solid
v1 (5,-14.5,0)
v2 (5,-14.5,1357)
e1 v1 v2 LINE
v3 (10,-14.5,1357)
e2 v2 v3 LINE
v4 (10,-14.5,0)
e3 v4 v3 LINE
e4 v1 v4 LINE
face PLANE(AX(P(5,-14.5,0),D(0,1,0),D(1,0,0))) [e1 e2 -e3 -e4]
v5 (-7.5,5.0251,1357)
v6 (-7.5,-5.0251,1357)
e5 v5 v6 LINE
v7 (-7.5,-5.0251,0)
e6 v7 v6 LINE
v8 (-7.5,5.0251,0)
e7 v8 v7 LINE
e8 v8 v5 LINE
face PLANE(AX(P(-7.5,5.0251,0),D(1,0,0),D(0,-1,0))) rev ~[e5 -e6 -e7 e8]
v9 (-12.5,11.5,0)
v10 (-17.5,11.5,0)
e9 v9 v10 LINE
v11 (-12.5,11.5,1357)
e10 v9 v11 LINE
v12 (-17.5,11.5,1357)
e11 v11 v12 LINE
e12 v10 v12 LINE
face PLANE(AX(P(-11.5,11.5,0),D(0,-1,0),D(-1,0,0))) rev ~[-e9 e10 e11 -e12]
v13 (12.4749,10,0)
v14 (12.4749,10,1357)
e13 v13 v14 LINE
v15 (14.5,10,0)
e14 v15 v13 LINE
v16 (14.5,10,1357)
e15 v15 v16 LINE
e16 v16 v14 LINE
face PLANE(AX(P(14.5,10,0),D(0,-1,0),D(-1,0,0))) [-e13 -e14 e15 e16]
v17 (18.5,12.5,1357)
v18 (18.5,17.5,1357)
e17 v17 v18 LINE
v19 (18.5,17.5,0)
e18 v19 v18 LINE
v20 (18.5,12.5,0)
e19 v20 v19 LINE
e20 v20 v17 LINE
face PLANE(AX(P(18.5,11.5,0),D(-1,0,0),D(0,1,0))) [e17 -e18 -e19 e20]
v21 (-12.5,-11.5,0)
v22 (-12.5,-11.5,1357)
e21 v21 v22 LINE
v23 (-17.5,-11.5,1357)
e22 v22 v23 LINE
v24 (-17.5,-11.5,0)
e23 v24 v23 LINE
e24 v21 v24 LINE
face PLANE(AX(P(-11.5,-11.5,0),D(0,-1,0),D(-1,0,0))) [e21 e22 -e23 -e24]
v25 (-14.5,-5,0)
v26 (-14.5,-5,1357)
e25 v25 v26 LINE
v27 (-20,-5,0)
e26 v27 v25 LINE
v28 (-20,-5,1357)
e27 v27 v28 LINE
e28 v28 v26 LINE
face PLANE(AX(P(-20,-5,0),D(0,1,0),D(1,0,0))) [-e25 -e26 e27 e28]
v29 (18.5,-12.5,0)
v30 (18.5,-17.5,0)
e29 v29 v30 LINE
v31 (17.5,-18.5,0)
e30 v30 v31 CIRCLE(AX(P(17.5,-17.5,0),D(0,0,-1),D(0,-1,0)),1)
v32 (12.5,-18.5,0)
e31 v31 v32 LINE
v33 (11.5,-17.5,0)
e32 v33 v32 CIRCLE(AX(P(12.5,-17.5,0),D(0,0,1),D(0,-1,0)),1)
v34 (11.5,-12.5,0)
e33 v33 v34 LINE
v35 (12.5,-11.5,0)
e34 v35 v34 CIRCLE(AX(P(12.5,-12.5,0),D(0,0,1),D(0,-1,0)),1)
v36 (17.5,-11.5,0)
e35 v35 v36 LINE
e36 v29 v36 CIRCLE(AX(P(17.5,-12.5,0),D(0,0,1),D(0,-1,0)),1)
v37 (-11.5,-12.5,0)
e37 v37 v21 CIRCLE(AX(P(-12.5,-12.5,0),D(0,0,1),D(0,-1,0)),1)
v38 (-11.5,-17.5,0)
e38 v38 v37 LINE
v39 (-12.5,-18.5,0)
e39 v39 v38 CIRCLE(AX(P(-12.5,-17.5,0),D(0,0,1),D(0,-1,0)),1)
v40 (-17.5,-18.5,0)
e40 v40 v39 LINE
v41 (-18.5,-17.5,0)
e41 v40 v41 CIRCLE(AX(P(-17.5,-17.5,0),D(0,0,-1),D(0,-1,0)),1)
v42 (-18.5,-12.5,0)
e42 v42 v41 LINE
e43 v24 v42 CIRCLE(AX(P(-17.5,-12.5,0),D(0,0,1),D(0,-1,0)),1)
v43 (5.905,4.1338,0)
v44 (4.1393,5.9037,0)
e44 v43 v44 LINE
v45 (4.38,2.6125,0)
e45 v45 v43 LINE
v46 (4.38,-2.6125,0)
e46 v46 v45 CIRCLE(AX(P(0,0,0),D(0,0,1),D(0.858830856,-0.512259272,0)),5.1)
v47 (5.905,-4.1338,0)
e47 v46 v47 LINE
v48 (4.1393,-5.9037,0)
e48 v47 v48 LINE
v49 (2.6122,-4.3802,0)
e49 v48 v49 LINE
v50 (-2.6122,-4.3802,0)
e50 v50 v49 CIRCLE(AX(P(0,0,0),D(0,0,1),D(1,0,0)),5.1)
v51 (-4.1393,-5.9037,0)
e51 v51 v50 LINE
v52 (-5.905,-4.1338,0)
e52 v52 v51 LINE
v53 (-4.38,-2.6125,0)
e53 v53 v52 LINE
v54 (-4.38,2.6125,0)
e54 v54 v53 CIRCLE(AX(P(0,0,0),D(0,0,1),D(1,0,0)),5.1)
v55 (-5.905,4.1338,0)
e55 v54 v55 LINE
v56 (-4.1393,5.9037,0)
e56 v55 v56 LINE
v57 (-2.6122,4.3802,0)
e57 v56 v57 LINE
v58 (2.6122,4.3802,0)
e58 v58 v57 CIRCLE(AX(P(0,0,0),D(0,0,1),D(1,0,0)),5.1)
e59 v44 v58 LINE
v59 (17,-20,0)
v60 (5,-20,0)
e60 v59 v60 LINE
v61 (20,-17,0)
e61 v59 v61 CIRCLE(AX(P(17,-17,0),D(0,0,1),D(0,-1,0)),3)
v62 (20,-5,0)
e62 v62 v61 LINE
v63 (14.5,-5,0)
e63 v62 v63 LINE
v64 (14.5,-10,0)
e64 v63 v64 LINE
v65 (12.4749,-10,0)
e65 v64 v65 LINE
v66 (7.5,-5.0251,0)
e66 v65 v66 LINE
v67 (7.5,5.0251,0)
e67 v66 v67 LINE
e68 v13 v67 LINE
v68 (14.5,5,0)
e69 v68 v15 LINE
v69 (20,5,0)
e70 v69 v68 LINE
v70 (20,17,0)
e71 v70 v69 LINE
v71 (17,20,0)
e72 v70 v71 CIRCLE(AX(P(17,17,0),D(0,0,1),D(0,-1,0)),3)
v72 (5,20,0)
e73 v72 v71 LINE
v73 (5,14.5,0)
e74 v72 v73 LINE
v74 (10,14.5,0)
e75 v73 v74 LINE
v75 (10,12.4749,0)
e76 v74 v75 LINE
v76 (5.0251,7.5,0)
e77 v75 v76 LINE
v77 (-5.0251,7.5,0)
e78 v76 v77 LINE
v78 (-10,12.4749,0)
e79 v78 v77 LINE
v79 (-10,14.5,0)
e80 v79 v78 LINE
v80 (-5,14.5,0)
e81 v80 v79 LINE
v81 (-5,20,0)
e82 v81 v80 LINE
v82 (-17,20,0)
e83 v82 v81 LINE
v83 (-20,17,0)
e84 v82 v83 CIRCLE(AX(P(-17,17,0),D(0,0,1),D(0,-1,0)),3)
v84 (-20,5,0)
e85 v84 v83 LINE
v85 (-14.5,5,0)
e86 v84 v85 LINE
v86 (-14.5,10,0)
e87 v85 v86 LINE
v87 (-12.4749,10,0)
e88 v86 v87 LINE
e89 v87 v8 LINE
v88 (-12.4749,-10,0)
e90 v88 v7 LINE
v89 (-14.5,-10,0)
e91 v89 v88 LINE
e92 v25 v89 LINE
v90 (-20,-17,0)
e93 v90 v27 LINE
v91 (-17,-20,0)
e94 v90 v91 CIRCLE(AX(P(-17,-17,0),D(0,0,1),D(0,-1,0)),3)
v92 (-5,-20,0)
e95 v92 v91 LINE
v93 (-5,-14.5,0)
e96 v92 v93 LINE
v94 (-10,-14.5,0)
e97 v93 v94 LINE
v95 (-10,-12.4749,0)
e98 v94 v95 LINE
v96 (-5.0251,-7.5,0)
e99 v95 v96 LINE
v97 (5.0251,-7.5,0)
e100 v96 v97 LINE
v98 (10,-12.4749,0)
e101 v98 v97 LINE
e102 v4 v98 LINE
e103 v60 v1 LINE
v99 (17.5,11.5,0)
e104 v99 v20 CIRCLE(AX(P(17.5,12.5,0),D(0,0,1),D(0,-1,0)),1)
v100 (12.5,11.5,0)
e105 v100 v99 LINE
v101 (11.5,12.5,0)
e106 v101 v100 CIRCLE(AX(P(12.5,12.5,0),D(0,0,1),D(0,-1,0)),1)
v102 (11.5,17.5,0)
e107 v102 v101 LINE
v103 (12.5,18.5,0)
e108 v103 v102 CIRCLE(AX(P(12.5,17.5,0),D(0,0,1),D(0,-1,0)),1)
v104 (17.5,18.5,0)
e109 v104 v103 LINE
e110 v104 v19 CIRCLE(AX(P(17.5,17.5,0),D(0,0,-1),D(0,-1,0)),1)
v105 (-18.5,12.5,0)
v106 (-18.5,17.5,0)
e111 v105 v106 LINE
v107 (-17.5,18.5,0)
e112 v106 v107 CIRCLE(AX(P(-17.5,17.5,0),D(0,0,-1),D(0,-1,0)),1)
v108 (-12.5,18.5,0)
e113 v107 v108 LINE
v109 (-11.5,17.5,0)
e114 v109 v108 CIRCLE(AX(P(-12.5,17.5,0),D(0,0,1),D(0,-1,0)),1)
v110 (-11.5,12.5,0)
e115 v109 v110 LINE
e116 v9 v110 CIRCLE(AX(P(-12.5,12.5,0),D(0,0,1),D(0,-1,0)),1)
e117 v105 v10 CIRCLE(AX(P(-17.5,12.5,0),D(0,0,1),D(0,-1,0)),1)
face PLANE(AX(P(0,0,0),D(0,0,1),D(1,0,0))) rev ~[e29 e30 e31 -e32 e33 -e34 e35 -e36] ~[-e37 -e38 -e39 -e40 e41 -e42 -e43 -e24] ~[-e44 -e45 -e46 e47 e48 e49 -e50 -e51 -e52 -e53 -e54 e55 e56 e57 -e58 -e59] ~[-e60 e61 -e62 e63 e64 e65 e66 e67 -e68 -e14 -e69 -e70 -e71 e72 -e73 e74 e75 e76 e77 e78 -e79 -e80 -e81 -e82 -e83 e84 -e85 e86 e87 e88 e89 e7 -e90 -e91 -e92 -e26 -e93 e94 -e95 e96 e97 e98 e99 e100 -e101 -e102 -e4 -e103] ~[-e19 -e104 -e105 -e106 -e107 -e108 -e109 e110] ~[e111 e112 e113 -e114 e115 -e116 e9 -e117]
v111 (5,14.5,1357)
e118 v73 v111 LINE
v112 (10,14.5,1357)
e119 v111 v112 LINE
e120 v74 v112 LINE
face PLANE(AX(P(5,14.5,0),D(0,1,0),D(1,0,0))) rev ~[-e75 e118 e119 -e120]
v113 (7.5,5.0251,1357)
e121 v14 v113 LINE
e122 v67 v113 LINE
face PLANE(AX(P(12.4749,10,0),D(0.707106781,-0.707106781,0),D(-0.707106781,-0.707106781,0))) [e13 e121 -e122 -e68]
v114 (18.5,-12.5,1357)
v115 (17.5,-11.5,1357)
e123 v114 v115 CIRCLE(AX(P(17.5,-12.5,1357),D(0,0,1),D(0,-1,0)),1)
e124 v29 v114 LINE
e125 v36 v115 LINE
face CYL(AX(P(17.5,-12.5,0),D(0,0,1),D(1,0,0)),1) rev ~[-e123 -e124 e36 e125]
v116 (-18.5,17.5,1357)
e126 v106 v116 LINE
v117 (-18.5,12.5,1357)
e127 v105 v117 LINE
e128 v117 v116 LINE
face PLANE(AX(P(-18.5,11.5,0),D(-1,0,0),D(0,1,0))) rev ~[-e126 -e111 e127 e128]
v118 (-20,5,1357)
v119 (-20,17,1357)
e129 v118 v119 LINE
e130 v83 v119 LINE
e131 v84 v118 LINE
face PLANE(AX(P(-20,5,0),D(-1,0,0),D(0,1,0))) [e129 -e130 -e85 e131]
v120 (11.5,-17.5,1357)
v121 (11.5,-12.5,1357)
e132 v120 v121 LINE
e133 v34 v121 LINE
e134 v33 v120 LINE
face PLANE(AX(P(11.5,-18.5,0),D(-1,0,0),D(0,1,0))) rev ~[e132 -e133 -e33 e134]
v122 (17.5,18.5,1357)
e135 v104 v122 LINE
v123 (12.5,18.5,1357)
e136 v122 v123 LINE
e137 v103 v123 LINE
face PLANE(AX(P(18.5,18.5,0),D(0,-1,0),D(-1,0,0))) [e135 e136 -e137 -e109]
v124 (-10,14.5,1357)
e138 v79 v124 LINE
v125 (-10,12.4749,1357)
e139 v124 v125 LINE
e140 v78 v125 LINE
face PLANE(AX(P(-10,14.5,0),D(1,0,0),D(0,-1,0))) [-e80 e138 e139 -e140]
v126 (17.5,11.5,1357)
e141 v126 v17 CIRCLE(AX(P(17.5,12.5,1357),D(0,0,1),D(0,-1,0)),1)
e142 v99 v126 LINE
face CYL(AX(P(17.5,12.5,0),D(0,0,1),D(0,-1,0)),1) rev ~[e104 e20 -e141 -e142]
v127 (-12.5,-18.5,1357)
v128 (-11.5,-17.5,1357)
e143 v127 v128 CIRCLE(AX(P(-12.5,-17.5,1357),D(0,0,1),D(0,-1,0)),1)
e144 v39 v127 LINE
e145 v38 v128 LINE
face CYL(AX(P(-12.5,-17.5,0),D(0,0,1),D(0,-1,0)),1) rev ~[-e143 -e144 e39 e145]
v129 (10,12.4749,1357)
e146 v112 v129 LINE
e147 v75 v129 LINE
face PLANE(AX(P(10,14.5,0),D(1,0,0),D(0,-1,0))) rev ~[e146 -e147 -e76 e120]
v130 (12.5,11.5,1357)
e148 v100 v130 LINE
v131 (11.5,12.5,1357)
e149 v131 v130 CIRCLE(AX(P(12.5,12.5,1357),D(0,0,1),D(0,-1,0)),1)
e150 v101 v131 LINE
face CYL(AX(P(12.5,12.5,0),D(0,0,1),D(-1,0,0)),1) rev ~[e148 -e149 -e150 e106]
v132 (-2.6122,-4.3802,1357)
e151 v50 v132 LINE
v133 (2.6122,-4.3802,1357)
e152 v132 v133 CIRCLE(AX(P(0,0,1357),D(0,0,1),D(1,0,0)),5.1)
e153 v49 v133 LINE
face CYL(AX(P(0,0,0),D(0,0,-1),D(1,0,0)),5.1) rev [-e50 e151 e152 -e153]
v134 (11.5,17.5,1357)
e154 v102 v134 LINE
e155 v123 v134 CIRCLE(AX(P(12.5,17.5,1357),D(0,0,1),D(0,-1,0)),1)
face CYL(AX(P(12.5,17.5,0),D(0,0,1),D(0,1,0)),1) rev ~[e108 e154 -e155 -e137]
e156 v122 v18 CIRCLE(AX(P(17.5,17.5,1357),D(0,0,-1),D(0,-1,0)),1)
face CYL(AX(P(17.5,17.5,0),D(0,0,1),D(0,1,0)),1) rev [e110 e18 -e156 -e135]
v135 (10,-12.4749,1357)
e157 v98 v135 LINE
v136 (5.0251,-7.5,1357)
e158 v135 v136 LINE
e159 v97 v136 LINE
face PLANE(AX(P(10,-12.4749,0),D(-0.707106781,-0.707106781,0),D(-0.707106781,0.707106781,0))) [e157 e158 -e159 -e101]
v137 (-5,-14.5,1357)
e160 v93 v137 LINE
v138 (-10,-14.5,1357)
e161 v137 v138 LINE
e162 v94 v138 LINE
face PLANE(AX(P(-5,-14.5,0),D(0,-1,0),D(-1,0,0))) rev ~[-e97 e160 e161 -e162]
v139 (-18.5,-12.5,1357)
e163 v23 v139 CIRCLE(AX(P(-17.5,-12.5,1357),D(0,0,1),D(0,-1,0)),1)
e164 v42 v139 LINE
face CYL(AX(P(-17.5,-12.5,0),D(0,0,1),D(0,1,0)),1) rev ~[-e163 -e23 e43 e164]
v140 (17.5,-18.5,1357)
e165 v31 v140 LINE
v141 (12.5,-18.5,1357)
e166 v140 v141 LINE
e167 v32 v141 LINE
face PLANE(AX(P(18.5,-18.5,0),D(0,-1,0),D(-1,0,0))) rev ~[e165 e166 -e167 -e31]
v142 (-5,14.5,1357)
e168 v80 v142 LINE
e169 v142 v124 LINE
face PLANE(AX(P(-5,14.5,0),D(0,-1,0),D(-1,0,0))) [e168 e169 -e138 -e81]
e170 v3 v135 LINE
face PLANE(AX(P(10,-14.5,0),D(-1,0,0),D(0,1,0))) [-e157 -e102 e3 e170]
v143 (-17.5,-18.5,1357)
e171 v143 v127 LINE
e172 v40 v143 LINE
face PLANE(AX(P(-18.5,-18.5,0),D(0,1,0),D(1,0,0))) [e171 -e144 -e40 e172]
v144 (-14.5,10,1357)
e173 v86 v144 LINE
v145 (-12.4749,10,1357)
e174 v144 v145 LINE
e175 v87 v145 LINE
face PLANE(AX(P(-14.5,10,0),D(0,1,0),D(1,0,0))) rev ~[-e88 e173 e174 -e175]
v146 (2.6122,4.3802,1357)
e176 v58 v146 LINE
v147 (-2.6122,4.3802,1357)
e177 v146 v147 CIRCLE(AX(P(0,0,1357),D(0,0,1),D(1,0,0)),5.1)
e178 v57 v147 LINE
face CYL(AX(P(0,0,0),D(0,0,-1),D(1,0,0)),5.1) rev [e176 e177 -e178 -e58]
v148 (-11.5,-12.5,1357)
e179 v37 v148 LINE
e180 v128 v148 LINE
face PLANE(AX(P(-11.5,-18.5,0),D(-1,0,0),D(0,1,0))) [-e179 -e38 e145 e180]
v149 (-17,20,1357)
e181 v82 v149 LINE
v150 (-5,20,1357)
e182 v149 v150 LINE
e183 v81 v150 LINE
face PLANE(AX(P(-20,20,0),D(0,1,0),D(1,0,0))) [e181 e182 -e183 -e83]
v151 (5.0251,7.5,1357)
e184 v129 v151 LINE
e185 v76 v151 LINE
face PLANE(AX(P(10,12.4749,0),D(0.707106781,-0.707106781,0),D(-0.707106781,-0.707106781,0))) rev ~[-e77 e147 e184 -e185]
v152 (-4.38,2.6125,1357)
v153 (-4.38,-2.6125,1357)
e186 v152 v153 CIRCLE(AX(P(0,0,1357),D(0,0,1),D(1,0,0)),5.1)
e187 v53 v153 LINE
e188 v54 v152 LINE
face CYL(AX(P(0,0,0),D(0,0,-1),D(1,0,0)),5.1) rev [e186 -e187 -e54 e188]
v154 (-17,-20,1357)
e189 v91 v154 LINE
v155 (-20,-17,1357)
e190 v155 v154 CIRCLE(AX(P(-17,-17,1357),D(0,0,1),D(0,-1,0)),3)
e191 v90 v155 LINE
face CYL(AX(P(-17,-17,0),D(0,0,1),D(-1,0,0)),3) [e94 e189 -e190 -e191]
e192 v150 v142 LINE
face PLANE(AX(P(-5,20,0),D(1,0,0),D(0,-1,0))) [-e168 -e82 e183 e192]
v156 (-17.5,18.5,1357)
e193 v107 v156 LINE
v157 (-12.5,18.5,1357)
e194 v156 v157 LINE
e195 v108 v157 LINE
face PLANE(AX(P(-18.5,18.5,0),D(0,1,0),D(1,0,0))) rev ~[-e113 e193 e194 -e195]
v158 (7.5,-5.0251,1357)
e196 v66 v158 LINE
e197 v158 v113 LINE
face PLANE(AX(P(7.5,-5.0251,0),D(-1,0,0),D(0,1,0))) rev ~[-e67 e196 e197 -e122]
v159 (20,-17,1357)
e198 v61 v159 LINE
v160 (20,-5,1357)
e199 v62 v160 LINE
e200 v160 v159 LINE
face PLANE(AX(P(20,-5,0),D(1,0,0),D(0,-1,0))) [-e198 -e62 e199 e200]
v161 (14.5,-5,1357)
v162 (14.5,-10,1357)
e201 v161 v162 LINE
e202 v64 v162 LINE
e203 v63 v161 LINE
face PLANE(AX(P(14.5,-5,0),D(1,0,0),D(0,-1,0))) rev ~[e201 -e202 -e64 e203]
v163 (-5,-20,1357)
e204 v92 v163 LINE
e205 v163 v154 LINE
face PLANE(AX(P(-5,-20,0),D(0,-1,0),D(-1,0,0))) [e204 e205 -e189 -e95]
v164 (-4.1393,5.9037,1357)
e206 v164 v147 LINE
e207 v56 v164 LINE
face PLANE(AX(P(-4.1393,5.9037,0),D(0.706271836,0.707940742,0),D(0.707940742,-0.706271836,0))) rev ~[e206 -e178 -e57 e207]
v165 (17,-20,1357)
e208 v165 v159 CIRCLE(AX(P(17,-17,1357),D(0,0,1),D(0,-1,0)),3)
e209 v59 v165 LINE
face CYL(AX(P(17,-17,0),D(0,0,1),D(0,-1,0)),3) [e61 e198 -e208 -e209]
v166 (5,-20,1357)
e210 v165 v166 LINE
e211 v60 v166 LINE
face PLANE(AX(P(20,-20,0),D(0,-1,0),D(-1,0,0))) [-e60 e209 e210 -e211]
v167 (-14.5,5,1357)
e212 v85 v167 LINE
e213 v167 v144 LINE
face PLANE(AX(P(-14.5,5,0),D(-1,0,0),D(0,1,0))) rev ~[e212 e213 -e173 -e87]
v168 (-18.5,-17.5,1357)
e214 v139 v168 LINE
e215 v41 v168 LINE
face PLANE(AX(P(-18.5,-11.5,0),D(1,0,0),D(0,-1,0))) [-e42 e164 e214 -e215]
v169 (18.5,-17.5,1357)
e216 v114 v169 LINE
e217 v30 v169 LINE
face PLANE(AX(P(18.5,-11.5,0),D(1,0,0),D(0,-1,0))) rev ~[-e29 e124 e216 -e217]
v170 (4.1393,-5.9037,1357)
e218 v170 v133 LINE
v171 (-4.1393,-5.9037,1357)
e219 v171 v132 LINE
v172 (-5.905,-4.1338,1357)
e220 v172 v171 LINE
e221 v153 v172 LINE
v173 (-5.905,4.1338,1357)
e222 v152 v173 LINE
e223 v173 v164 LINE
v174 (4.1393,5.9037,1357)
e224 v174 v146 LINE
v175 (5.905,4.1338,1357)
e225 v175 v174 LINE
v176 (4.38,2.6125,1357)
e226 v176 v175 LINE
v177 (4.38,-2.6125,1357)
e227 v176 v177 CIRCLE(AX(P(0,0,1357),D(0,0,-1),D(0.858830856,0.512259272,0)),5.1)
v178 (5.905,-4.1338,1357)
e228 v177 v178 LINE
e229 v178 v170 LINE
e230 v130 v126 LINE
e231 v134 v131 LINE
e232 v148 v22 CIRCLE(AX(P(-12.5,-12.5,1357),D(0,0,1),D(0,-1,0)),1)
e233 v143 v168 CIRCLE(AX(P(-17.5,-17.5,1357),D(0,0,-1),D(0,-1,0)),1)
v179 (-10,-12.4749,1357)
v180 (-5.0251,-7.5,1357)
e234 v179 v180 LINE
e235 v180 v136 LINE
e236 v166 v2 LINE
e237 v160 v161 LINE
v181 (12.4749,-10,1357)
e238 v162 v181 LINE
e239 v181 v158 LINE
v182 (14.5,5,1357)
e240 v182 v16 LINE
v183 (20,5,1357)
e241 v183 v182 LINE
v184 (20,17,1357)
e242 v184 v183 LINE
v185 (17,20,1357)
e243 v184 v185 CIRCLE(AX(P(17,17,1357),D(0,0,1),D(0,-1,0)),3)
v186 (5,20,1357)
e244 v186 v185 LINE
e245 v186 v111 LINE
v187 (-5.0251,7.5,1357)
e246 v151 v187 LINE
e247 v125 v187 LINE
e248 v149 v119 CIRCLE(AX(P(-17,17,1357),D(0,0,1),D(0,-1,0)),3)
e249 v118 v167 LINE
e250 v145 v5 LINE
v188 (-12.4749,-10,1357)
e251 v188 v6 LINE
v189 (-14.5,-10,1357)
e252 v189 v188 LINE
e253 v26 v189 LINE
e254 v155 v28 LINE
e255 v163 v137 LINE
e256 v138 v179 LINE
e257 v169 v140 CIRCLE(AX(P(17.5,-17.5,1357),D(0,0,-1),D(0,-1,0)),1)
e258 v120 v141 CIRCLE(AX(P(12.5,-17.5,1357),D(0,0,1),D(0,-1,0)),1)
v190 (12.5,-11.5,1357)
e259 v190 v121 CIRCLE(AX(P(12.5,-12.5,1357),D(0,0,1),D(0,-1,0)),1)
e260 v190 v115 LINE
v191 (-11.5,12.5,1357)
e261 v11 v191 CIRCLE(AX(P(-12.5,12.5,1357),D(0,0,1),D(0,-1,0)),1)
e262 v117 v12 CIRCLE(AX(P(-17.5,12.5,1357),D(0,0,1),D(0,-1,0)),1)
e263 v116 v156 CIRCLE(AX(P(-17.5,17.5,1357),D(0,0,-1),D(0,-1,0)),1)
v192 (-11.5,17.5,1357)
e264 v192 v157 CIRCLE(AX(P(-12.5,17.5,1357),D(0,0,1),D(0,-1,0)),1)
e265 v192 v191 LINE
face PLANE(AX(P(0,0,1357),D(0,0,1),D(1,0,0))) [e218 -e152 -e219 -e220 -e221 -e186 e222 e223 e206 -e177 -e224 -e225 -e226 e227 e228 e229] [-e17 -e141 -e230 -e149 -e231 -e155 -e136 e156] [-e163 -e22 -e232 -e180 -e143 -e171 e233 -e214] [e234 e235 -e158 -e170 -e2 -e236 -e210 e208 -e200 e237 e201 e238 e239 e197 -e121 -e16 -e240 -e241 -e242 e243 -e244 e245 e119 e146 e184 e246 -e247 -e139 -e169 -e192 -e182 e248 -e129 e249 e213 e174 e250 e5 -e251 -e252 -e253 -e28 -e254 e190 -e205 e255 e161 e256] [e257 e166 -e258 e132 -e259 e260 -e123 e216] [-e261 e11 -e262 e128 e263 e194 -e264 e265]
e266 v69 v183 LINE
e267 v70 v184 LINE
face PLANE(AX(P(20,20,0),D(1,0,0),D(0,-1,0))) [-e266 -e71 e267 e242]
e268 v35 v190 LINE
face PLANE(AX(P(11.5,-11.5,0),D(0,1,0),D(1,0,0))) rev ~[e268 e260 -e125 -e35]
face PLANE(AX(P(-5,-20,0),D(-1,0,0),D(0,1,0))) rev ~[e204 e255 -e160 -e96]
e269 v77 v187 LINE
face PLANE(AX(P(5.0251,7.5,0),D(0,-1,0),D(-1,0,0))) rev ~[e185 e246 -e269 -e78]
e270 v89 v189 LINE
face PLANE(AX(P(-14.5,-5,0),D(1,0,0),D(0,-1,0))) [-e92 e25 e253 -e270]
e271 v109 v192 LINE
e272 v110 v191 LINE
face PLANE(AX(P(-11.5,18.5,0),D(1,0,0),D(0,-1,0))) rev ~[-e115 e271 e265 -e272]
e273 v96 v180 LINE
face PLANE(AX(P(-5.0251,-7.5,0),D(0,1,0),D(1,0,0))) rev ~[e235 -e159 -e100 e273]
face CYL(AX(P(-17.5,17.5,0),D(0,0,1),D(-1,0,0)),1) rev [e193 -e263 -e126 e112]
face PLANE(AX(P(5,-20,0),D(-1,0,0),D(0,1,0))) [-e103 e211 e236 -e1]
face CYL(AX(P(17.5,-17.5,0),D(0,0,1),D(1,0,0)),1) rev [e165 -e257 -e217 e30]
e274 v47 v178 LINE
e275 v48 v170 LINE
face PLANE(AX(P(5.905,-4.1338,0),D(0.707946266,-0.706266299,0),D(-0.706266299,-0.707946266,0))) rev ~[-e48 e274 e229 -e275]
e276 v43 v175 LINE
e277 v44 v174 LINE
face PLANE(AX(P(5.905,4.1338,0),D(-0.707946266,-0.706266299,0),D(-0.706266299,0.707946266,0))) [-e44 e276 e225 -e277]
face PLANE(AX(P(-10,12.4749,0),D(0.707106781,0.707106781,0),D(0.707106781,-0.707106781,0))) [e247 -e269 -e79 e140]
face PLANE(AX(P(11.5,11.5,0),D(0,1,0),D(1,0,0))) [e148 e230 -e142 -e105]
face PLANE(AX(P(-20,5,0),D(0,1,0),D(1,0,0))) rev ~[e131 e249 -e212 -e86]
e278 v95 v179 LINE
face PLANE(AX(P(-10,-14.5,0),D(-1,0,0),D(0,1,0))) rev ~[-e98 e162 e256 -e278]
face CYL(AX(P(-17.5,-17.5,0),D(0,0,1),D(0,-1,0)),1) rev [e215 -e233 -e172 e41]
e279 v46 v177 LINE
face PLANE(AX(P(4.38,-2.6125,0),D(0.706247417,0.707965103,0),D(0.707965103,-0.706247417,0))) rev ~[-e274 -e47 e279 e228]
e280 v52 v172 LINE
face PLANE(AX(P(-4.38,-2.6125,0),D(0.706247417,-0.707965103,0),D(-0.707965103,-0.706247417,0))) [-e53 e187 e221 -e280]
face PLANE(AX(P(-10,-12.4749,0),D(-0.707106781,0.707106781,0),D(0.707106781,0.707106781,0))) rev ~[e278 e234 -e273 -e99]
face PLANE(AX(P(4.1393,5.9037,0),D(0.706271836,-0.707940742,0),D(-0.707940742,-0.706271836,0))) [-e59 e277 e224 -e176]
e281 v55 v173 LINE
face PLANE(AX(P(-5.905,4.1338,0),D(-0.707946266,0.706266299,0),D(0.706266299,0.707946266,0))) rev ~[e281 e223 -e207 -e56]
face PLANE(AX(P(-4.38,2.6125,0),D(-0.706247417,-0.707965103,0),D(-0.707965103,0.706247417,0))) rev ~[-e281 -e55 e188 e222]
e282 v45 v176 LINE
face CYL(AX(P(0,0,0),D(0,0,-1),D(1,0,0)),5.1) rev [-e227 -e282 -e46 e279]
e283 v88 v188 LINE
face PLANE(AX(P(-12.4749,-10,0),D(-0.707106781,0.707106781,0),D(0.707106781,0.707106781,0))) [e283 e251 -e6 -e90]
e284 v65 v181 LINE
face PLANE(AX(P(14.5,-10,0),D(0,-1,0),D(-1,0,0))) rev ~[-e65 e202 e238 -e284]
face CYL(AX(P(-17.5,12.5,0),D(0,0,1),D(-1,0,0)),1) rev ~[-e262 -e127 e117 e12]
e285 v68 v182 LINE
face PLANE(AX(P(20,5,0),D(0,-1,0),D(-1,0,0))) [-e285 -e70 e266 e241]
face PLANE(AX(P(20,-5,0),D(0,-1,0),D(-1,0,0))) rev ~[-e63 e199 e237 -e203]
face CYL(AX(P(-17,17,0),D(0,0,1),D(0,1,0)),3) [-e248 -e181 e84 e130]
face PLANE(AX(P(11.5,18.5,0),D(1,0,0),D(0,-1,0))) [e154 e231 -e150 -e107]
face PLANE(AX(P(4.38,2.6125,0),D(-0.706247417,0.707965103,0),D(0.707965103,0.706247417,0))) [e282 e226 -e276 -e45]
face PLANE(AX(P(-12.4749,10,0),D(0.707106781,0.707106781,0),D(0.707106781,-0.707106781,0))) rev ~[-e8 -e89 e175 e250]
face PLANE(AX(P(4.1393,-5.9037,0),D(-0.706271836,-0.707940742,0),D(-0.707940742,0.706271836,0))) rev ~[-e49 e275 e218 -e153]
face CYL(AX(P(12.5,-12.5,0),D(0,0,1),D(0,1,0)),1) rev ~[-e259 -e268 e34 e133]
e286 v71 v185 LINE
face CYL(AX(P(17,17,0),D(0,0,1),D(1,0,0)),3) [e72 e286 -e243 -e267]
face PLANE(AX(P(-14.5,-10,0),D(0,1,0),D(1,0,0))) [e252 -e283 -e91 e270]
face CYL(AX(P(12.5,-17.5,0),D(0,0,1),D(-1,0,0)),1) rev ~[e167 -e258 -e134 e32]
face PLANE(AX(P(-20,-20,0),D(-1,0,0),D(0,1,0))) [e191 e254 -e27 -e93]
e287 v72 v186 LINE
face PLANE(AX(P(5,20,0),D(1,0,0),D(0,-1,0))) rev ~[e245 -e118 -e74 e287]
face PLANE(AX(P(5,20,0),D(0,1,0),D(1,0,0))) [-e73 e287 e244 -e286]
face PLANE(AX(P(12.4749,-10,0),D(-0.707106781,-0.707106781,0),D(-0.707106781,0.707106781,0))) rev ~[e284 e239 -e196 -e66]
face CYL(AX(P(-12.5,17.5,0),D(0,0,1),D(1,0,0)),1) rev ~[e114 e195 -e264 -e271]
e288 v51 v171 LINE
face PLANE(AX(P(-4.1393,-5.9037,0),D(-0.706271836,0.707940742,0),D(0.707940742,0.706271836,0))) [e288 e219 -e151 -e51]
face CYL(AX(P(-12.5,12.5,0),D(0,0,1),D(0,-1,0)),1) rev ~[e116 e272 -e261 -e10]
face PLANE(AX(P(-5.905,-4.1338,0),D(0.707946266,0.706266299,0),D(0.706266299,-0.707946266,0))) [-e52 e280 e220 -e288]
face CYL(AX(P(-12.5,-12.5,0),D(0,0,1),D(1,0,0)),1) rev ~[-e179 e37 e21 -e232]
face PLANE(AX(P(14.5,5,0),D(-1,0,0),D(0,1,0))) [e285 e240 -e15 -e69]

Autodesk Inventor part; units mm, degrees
ref_plane "YZ Plane" through (0, 0, 0) normal (1, 0, 0) x (0, 1, 0)
ref_plane "XZ Plane" through (0, 0, 0) normal (0, 1, 0) x (-1, 0, 0)
ref_plane "XY Plane" through (0, 0, 0) normal (0, 0, 1) x (1, 0, 0)
sketch "T-Slot 4040 Base" plane through (0, 0, 0) normal (0, 0, 1) x (1, 0, 0)
  line L0 (-28, 0) -> (28, 0) construction
  line L1 (0, -28) -> (0, 28) construction
  circle A0 centre (0, 0) radius 5.1
  line L2 (-7.5, -7.5) -> (7.5, -7.5)
  line L3 (7.5, -7.5) -> (7.5, 7.5)
  line L4 (7.5, 7.5) -> (-7.5, 7.5)
  line L5 (-7.5, 7.5) -> (-7.5, -7.5)
  line L6 (-7.5, -7.5) -> (7.5, 7.5) construction
  line L7 (7.5, -7.5) -> (-7.5, 7.5) construction
  line L8 (-20, 20) -> (20, 20)
  line L9 (20, 20) -> (20, -20)
  line L10 (20, -20) -> (-20, -20)
  line L11 (-20, -20) -> (-20, 20)
  line L12 (-20, 20) -> (20, -20) construction
  line L13 (20, 20) -> (-20, -20) construction
  line L14 (20, 5) -> (14.5, 5)
  line L15 (14.5, 5) -> (14.5, 10)
  line L16 (14.5, 10) -> (12.4749, 10)
  line L17 (12.4749, 10) -> (7.5, 5.0251)
  line L18 (5, 20) -> (5, 14.5)
  line L19 (5, 14.5) -> (10, 14.5)
  line L20 (10, 14.5) -> (10, 12.4749)
  line L21 (10, 12.4749) -> (5.0251, 7.5)
  line L22 (18.5, 18.5) -> (11.5, 18.5)
  line L23 (11.5, 18.5) -> (11.5, 11.5)
  line L24 (11.5, 11.5) -> (18.5, 11.5)
  line L25 (18.5, 11.5) -> (18.5, 18.5)
  line L26 (18.5, 18.5) -> (11.5, 11.5) construction
  line L27 (11.5, 18.5) -> (18.5, 11.5) construction
  line L28 (3.0732, 1.3088) -> (4.38, 2.6125) construction
  line L29 (5.905, 4.1338) -> (4.1393, 5.9037)
  line L30 (4.1393, 5.9037) -> (2.6122, 4.3802)
  line L31 (1.3075, 3.0787) -> (3.0732, 1.3088) construction
  line L32 (3.0732, 1.3088) -> (4.1393, 5.9037) construction
  line L33 (5.905, 4.1338) -> (1.3075, 3.0787) construction
  line L34 (4.38, 2.6125) -> (5.905, 4.1338)
  line L35 (2.6122, 4.3802) -> (1.3075, 3.0787) construction
  line L36 (-20, 5) -> (-14.5, 5)
  line L37 (-14.5, 5) -> (-14.5, 10)
  line L38 (-14.5, 10) -> (-12.4749, 10)
  line L39 (-12.4749, 10) -> (-7.5, 5.0251)
  line L40 (-5, 20) -> (-5, 14.5)
  line L41 (-5, 14.5) -> (-10, 14.5)
  line L42 (-10, 14.5) -> (-10, 12.4749)
  line L43 (-10, 12.4749) -> (-5.0251, 7.5)
  line L44 (-18.5, 18.5) -> (-11.5, 18.5)
  line L45 (-11.5, 18.5) -> (-11.5, 11.5)
  line L46 (-11.5, 11.5) -> (-18.5, 11.5)
  line L47 (-18.5, 11.5) -> (-18.5, 18.5)
  line L48 (-5.905, 4.1338) -> (-4.1393, 5.9037)
  line L49 (-4.1393, 5.9037) -> (-2.6122, 4.3802)
  line L50 (-4.38, 2.6125) -> (-5.905, 4.1338)
  line L51 (7.5, -7.5) -> (-7.5, -7.5)
  line L52 (20, -5) -> (14.5, -5)
  line L53 (14.5, -5) -> (14.5, -10)
  line L54 (14.5, -10) -> (12.4749, -10)
  line L55 (12.4749, -10) -> (7.5, -5.0251)
  line L56 (5, -20) -> (5, -14.5)
  line L57 (5, -14.5) -> (10, -14.5)
  line L58 (10, -14.5) -> (10, -12.4749)
  line L59 (10, -12.4749) -> (5.0251, -7.5)
  line L60 (18.5, -18.5) -> (11.5, -18.5)
  line L61 (11.5, -18.5) -> (11.5, -11.5)
  line L62 (11.5, -11.5) -> (18.5, -11.5)
  line L63 (18.5, -11.5) -> (18.5, -18.5)
  line L64 (18.5, -18.5) -> (11.5, -11.5) construction
  line L65 (11.5, -18.5) -> (18.5, -11.5) construction
  line L66 (3.0732, -1.3088) -> (4.38, -2.6125) construction
  line L67 (5.905, -4.1338) -> (4.1393, -5.9037)
  line L68 (4.1393, -5.9037) -> (2.6122, -4.3802)
  line L69 (1.3075, -3.0787) -> (3.0732, -1.3088) construction
  line L70 (3.0732, -1.3088) -> (4.1393, -5.9037) construction
  line L71 (5.905, -4.1338) -> (1.3075, -3.0787) construction
  line L72 (4.38, -2.6125) -> (5.905, -4.1338)
  line L73 (2.6122, -4.3802) -> (1.3075, -3.0787) construction
  line L74 (-4.38, -2.6125) -> (-5.905, -4.1338)
  line L75 (-4.1393, -5.9037) -> (-2.6122, -4.3802)
  line L76 (-5.905, -4.1338) -> (-4.1393, -5.9037)
  line L77 (-12.4749, -10) -> (-7.5, -5.0251)
  line L78 (-10, -12.4749) -> (-5.0251, -7.5)
  line L79 (-10, -14.5) -> (-10, -12.4749)
  line L80 (-5, -14.5) -> (-10, -14.5)
  line L81 (-5, -20) -> (-5, -14.5)
  line L82 (-18.5, -18.5) -> (-11.5, -18.5)
  line L83 (-11.5, -18.5) -> (-11.5, -11.5)
  line L84 (-11.5, -11.5) -> (-18.5, -11.5)
  line L85 (-18.5, -11.5) -> (-18.5, -18.5)
  line L86 (-14.5, -10) -> (-12.4749, -10)
  line L87 (-14.5, -5) -> (-14.5, -10)
  line L88 (-20, -5) -> (-14.5, -5)
  point P0 (15, 15)
  point P1 (3.6062, 3.6062)
  point P2 (3.6062, 3.6062)
  point P3 (15, -15)
  point P4 (3.6062, -3.6062)
  point P5 (3.6062, -3.6062)
  dimension "d9" = 10.2
  dimension "d12" = 40
  dimension "d13" = 40
  dimension "d14" = 5.5
  dimension "d15" = 15
  dimension "d16" = 7
  dimension "d17" = 10
  dimension "d20" = 1.75
  dimension "d21" = 7
  dimension "d22" = 2
  dimension "d29" = 1.5
  dimension "d30" = 2.5
extrude "Extrusion1" add sketch "T-Slot 4040 Base" along normal blind 1357 contours L5 L4 L3 L2 | L2 L78 L79 L80 L81 L10 L11 L88 L87 L86 L77 L5 | L2 L3 L55 L54 L53 L52 L9 L10 L56 L57 L58 L59 | L39 L38 L37 L36 L11 L8 L40 L41 L42 L43 L4 L5 | L3 L4 L21 L20 L19 L18 L8 L9 L14 L15 L16 L17
fillet "Rundung1" radius 1 16 edges at (11.5, 18.5, 678.5) (18.5, 18.5, 678.5) (18.5, 11.5, 678.5) (11.5, 11.5, 678.5) (-11.5, 18.5, 678.5) (-18.5, 18.5, 678.5) (-18.5, 11.5, 678.5) (-11.5, 11.5, 678.5) (-18.5, -11.5, 678.5) (-11.5, -11.5, 678.5) (-11.5, -18.5, 678.5) (-18.5, -18.5, 678.5) (11.5, -18.5, 678.5) (11.5, -11.5, 678.5) (18.5, -11.5, 678.5) (18.5, -18.5, 678.5)
fillet "Rundung2" radius 3 4 edges at (20, 20, 678.5) (20, -20, 678.5) (-20, -20, 678.5) (-20, 20, 678.5)
properties part number "T-SLOT 4040 B-Type 1357mm"
